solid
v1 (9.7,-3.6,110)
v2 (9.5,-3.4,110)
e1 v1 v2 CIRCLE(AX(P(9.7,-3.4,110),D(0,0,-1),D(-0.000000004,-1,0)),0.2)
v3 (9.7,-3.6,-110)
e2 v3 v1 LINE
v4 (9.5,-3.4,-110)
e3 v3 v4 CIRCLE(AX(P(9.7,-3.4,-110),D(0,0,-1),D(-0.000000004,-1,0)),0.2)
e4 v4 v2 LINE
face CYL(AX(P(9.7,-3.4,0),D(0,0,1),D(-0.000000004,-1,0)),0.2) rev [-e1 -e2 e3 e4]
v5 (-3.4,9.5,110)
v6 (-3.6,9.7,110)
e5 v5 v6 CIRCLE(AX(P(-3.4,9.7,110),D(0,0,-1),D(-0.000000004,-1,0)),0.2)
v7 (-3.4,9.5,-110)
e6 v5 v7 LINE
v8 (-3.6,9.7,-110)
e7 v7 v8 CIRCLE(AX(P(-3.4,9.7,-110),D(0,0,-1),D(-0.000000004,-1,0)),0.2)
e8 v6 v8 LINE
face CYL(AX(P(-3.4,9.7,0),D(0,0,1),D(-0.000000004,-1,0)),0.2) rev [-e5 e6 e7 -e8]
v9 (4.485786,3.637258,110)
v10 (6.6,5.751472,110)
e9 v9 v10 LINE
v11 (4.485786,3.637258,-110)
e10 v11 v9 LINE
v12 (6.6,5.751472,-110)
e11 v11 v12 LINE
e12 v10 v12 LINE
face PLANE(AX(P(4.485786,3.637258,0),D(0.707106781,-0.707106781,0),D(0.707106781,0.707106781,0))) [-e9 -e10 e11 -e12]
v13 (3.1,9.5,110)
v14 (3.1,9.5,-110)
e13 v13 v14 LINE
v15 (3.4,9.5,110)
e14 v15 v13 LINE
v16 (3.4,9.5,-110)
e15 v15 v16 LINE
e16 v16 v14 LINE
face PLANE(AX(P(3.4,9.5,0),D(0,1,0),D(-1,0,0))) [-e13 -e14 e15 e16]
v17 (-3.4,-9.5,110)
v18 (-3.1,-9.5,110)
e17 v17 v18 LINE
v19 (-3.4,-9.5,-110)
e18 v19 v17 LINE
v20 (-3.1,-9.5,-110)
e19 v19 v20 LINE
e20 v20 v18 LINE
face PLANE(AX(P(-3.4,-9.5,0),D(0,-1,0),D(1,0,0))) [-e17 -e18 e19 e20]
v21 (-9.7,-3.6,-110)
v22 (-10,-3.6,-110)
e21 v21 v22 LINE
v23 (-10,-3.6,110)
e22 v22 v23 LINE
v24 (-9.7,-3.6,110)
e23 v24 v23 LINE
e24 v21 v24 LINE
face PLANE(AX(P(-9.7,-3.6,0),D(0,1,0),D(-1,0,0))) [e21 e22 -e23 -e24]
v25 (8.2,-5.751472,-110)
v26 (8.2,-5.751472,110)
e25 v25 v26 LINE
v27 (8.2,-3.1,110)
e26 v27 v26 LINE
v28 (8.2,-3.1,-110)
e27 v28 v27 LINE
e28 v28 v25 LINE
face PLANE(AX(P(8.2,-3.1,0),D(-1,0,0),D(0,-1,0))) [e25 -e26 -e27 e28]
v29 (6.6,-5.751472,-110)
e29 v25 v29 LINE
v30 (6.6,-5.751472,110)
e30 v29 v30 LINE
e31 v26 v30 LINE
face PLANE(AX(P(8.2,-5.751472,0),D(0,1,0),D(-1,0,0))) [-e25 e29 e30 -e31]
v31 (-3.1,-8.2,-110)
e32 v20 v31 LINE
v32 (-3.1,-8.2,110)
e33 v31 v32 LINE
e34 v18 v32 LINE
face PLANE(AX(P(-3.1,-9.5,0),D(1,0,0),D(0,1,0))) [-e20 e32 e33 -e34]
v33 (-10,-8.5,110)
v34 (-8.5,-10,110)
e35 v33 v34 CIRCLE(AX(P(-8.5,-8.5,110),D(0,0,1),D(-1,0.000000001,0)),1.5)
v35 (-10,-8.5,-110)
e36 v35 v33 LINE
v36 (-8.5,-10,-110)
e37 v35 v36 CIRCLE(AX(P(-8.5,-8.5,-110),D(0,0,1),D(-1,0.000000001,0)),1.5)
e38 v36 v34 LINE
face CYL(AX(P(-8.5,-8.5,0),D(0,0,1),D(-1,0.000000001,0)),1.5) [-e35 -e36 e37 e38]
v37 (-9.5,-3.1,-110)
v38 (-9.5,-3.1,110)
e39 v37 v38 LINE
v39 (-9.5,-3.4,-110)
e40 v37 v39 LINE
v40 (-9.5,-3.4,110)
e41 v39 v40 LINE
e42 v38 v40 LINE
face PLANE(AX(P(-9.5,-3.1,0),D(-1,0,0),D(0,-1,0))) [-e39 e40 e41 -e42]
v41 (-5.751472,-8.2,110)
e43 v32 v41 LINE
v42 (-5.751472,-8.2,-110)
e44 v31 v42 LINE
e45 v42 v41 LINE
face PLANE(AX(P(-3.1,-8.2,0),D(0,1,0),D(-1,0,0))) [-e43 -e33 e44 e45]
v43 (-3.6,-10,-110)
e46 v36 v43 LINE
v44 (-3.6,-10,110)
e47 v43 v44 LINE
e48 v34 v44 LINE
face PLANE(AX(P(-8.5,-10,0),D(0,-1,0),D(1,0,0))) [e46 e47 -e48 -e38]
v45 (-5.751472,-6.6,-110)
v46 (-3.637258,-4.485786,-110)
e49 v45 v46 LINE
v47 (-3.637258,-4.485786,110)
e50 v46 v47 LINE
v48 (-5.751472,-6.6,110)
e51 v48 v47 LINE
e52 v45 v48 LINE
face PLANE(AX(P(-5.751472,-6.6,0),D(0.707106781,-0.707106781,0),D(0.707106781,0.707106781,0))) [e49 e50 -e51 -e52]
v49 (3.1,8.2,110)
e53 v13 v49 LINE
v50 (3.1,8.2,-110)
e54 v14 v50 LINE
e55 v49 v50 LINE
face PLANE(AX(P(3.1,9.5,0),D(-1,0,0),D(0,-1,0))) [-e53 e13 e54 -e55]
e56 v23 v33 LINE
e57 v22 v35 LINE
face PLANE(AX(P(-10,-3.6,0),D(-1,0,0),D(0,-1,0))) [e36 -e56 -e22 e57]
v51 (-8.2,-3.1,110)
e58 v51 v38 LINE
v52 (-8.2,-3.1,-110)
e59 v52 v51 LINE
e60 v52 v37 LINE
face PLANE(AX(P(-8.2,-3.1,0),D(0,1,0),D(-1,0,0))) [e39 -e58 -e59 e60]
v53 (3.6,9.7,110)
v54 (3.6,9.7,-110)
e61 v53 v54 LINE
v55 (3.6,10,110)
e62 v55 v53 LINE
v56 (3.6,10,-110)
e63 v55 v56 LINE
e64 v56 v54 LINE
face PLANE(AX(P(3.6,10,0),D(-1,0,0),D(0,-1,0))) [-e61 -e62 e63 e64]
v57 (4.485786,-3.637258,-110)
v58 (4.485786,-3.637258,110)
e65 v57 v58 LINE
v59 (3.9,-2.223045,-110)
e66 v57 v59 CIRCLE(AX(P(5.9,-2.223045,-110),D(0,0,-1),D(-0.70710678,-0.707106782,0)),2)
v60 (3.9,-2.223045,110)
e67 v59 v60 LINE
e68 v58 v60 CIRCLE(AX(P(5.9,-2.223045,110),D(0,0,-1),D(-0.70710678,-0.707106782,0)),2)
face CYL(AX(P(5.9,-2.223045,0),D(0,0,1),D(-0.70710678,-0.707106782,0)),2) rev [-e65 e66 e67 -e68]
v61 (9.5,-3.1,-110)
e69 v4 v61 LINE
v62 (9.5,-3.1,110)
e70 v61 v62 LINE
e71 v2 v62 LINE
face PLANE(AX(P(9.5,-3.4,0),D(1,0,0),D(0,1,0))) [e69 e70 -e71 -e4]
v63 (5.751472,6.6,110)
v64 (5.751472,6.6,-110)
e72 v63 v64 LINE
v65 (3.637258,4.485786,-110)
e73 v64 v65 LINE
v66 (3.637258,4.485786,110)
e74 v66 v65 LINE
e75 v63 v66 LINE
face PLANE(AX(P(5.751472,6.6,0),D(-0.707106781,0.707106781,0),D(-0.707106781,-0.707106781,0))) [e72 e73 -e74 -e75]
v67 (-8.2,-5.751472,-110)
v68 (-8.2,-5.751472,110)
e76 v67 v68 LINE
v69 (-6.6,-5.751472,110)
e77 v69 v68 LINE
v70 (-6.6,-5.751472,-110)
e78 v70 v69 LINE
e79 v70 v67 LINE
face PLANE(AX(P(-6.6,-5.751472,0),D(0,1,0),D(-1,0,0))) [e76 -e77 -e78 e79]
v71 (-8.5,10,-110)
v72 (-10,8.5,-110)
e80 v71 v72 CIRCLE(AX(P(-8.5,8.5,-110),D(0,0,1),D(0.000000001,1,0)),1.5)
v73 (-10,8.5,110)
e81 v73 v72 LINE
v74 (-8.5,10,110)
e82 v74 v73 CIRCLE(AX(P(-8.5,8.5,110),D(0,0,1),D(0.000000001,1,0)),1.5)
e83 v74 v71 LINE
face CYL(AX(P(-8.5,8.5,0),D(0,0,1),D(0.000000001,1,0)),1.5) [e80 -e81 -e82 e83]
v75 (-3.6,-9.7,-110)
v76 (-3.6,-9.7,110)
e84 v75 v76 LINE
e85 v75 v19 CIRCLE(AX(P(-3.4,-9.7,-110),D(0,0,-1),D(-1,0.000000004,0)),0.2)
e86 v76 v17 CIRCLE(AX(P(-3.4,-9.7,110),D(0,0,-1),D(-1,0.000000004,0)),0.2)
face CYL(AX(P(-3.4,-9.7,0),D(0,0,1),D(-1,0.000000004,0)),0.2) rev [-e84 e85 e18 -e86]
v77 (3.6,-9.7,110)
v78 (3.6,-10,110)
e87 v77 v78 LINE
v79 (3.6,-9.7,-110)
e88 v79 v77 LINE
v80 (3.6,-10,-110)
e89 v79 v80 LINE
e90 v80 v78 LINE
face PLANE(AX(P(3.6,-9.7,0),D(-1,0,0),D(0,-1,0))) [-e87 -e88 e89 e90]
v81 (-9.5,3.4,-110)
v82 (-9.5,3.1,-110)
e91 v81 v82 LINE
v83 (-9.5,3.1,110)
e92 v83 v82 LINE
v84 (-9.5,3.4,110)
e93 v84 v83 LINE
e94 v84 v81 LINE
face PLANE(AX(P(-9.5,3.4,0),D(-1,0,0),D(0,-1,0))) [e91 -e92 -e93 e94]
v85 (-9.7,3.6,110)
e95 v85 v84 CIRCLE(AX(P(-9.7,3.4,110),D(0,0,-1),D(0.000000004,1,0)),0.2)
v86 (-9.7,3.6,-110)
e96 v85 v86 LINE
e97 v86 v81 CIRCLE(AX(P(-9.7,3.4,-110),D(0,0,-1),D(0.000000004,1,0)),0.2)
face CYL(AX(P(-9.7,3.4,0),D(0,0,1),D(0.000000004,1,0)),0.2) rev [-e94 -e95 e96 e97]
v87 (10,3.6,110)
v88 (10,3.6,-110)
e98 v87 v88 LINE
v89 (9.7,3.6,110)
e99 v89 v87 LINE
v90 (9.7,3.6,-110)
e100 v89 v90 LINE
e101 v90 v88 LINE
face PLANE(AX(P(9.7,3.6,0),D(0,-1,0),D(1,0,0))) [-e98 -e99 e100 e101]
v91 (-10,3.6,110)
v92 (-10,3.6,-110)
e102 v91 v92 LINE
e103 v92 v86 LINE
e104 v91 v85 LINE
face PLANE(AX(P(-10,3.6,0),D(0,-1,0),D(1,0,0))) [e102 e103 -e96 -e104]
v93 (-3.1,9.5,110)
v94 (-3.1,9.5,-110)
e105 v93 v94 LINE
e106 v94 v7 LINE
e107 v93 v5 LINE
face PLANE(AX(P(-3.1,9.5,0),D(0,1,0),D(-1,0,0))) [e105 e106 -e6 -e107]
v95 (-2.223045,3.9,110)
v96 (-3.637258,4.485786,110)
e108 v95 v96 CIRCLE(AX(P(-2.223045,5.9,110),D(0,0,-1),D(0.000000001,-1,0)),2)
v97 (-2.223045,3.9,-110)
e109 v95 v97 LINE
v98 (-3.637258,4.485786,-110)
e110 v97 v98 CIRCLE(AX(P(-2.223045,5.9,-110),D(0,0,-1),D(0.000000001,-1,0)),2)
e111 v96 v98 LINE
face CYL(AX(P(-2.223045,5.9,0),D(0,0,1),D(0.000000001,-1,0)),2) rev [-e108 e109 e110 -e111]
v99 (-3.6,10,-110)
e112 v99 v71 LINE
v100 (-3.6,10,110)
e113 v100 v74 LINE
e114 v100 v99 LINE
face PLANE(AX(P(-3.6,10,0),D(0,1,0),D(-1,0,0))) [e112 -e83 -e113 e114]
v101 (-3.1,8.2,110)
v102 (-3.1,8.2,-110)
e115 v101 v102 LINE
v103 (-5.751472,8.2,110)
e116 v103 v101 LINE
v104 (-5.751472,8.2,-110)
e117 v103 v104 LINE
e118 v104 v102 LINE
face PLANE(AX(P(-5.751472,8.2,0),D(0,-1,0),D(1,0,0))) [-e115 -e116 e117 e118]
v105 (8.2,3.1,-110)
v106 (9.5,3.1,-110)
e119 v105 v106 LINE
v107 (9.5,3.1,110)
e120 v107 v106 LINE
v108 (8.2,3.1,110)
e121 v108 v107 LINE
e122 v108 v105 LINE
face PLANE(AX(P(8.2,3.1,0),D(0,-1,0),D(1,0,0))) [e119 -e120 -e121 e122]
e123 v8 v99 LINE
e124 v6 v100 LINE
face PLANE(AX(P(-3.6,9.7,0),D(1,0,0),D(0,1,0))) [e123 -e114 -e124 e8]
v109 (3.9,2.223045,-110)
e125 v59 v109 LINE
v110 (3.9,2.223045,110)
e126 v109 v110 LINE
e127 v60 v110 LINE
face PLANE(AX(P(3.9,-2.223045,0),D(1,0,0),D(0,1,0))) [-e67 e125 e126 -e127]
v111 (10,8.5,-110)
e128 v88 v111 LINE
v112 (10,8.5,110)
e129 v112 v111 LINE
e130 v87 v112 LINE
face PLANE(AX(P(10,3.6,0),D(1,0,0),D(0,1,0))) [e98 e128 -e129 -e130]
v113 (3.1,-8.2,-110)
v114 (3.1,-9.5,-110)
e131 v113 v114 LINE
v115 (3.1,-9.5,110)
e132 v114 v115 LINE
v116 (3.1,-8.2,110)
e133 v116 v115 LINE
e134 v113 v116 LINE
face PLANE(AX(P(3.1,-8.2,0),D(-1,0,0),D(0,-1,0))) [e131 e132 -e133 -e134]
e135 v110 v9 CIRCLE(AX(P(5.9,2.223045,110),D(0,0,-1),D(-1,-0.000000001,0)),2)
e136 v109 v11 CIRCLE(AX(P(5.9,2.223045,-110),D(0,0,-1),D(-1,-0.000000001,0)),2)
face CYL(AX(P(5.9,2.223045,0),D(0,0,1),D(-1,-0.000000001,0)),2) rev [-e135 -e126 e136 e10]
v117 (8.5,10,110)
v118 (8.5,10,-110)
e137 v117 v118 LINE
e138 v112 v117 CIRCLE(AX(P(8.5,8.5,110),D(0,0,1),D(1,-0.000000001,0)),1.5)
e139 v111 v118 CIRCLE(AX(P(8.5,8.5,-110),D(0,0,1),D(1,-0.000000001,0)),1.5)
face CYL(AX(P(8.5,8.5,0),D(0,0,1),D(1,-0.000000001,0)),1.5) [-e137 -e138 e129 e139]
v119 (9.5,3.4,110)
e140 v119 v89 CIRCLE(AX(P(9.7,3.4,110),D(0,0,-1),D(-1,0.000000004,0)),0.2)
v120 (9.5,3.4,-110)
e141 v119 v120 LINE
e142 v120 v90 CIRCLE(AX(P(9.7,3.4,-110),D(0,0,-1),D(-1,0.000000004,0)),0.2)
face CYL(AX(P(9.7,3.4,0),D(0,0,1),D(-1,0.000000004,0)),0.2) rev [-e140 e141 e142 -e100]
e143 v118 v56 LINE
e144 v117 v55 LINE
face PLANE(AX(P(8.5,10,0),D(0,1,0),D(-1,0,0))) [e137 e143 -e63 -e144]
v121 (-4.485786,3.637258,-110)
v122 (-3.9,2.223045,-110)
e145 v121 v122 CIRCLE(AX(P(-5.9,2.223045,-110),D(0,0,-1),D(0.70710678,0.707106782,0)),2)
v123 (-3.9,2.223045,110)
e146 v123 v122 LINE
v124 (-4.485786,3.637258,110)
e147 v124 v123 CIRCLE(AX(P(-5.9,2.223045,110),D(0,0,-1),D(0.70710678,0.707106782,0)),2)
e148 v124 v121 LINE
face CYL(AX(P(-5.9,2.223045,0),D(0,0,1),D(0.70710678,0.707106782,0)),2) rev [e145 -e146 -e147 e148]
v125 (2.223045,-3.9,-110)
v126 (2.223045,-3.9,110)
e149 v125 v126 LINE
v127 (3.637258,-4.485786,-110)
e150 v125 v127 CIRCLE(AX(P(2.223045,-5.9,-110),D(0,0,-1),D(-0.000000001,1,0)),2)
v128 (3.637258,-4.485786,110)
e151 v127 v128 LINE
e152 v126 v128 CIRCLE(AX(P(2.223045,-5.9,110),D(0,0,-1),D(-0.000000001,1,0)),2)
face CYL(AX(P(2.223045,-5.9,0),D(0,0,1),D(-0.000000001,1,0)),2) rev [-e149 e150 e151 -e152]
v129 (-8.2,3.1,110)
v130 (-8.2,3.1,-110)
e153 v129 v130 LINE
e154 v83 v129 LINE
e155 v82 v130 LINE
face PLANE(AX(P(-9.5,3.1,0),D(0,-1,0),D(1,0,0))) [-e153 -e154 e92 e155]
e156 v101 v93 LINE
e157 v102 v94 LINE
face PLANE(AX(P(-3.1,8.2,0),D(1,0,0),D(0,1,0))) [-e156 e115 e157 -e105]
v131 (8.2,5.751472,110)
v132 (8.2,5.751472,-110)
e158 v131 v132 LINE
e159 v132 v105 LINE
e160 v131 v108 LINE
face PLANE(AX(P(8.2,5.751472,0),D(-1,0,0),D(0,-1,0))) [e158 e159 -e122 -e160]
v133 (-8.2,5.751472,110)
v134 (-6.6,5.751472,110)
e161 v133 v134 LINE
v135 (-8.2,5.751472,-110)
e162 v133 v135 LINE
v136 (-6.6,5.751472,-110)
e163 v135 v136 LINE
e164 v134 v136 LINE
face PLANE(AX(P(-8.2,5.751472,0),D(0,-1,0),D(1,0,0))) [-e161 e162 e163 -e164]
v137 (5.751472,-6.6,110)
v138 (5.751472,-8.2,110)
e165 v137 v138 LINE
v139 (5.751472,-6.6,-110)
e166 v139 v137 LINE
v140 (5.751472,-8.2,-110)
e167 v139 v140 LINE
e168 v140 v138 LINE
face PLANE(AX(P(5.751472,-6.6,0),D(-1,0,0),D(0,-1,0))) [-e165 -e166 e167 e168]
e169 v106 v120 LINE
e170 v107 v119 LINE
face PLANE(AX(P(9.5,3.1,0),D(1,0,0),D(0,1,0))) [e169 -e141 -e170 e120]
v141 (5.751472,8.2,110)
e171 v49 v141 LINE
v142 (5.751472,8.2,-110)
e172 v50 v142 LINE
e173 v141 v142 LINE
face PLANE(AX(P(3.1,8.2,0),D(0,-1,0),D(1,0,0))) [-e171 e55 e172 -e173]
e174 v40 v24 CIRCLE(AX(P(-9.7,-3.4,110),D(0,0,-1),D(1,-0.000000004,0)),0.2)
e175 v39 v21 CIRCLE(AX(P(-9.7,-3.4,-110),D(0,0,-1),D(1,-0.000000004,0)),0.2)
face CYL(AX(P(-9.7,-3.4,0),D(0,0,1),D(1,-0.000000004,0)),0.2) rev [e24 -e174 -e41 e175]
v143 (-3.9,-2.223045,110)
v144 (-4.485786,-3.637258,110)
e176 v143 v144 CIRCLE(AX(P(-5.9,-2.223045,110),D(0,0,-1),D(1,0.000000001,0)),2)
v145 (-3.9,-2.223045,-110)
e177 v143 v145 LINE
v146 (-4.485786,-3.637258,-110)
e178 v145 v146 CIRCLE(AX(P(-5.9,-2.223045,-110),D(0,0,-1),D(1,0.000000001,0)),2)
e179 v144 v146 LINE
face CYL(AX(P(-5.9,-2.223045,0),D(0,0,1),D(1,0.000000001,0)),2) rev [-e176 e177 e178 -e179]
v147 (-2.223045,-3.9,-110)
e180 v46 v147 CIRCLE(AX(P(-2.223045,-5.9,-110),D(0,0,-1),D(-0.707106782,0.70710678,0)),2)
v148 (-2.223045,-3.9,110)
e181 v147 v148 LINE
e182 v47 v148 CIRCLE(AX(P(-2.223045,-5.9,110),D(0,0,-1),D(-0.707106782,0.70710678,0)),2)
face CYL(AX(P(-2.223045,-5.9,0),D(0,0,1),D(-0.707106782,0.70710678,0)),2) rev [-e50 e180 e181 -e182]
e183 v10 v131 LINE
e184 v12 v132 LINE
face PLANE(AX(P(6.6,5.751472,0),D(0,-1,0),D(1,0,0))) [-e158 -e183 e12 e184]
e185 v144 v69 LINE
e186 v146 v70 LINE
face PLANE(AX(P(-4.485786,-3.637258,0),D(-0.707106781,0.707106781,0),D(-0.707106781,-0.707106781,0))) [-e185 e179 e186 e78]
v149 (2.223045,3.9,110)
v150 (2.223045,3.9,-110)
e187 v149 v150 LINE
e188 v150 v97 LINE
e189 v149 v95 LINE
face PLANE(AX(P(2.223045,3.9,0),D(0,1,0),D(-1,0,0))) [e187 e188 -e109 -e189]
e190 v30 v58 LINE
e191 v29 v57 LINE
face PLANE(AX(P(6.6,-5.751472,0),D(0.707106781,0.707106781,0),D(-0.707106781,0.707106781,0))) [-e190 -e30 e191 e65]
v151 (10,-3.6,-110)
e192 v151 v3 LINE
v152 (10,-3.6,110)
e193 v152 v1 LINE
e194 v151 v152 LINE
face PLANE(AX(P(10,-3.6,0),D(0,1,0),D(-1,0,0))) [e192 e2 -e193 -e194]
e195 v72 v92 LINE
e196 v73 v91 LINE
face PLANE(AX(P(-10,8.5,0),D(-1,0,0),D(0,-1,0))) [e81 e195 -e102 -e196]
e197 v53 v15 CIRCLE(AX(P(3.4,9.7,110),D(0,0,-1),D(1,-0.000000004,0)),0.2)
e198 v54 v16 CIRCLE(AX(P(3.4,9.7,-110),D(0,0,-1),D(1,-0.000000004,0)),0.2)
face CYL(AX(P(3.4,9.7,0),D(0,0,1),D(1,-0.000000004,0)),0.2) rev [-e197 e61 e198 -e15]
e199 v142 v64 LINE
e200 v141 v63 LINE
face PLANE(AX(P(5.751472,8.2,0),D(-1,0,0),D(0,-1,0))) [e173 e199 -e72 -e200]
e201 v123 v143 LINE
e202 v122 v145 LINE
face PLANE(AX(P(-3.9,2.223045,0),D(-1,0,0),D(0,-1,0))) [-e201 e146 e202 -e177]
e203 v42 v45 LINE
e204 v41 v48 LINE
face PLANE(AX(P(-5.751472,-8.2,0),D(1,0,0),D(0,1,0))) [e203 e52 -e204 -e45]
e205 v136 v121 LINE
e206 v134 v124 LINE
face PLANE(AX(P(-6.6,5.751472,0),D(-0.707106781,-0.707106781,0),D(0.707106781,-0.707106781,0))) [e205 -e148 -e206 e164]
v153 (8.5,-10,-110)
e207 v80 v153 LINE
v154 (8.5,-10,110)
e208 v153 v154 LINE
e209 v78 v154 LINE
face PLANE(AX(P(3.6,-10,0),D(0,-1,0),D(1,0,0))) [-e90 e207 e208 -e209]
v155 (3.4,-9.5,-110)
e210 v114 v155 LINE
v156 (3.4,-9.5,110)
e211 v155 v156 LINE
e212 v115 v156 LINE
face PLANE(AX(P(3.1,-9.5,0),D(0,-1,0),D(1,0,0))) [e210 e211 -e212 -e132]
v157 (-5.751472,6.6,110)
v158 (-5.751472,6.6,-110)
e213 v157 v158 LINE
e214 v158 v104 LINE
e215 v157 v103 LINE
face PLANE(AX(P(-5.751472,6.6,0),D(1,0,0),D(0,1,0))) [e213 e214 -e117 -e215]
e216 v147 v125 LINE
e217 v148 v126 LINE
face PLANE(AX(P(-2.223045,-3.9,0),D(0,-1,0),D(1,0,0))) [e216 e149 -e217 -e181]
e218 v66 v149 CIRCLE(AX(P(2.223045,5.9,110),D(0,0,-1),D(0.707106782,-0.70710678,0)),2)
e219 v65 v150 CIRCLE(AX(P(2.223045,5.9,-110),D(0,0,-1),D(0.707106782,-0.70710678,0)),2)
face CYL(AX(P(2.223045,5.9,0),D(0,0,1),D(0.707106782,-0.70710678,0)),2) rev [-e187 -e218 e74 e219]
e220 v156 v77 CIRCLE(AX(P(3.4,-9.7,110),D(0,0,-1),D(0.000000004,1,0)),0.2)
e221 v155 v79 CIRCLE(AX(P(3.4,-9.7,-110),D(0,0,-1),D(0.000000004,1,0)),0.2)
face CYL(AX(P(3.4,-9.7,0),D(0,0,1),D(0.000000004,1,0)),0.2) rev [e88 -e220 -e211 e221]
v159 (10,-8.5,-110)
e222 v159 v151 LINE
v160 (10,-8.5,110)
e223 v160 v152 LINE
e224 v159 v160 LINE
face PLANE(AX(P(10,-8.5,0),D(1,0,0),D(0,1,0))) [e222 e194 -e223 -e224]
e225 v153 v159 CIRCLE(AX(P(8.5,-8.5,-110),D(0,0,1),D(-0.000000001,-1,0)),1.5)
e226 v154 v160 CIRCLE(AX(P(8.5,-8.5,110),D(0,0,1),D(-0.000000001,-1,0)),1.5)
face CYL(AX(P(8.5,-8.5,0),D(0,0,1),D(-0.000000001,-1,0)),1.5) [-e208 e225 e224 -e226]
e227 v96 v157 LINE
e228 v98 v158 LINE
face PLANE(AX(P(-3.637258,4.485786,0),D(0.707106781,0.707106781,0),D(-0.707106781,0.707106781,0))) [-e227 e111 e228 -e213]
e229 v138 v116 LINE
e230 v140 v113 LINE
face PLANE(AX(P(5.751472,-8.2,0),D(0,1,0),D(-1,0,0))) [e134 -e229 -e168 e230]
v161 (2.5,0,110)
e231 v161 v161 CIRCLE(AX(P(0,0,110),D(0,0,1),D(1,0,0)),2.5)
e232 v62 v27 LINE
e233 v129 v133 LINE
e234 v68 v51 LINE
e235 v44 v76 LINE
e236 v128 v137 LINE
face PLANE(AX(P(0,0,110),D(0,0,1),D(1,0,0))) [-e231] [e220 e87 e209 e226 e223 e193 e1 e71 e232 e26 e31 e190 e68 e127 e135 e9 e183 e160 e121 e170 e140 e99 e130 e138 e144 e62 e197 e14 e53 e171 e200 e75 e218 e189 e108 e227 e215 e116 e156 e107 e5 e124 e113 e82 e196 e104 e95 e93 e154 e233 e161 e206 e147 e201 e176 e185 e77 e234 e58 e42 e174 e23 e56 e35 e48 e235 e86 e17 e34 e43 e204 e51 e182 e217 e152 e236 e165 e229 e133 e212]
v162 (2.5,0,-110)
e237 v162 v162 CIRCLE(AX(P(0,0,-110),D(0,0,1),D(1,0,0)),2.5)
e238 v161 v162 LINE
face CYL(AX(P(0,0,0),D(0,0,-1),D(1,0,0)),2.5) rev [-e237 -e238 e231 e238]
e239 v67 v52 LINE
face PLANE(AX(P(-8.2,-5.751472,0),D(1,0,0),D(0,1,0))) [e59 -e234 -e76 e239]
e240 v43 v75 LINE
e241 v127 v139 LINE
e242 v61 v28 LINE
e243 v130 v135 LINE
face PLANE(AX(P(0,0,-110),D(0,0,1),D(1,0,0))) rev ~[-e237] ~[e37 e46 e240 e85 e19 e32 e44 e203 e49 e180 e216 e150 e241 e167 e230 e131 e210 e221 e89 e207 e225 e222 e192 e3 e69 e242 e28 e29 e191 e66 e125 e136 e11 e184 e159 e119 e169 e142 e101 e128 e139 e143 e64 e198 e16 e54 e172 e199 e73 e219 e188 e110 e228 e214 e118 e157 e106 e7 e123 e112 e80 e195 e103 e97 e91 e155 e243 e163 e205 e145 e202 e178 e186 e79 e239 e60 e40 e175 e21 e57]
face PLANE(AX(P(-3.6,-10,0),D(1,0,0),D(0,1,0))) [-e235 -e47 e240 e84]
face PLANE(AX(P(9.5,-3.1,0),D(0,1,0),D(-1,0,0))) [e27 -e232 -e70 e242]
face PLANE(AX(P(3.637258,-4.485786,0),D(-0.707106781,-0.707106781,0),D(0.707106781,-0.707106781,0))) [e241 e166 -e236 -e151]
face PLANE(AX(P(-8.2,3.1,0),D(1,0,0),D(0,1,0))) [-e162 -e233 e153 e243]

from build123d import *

# Parameters (mm, degrees)
CROQUIS1_R              = 2.5
SALIENTE_EXTRUIR1_DEPTH = 110


with BuildPart() as part:
    # Croquis1 → Saliente-Extruir1 (new, symmetric)
    with BuildSketch(Plane.XY):
        with BuildLine():
            Line((-4.485786438, -3.6372583), (-6.6, -5.751471863))
            Line((-6.6, -5.751471863), (-8.2, -5.751471863))
            Line((-8.2, -5.751471863), (-8.2, -3.1))
            Line((-8.2, -3.1), (-9.5, -3.1))
            Line((-9.5, -3.1), (-9.5, -3.4))
            ThreePointArc((-9.5, -3.4), (-9.558578644, -3.541421356), (-9.7, -3.6))
            Line((-9.7, -3.6), (-10, -3.6))
            Line((-10, -3.6), (-10, -8.5))
            ThreePointArc((-10, -8.5), (-9.560660172, -9.560660172), (-8.5, -10))
            Line((-8.5, -10), (-3.6, -10))
            Line((-3.6, -10), (-3.6, -9.7))
            ThreePointArc((-3.6, -9.7), (-3.541421356, -9.558578644), (-3.4, -9.5))
            Line((-3.4, -9.5), (-3.1, -9.5))
            Line((-3.1, -9.5), (-3.1, -8.2))
            Line((-3.1, -8.2), (-5.751471863, -8.2))
            Line((-5.751471863, -8.2), (-5.751471863, -6.6))
            Line((-5.751471863, -6.6), (-3.6372583, -4.485786438))
            ThreePointArc((-3.6372583, -4.485786438), (-2.988411603, -4.052240935), (-2.223044738, -3.9))
            Line((-2.223044738, -3.9), (2.223044738, -3.9))
            ThreePointArc((2.223044738, -3.9), (2.988411603, -4.052240935), (3.6372583, -4.485786438))
            Line((3.6372583, -4.485786438), (5.751471863, -6.6))
            Line((5.751471863, -6.6), (5.751471863, -8.2))
            Line((5.751471863, -8.2), (3.1, -8.2))
            Line((3.1, -8.2), (3.1, -9.5))
            Line((3.1, -9.5), (3.4, -9.5))
            ThreePointArc((3.4, -9.5), (3.541421356, -9.558578644), (3.6, -9.7))
            Line((3.6, -9.7), (3.6, -10))
            Line((3.6, -10), (8.5, -10))
            ThreePointArc((8.5, -10), (9.560660172, -9.560660172), (10, -8.5))
            Line((10, -8.5), (10, -3.6))
            Line((10, -3.6), (9.7, -3.6))
            ThreePointArc((9.7, -3.6), (9.558578644, -3.541421356), (9.5, -3.4))
            Line((9.5, -3.4), (9.5, -3.1))
            Line((9.5, -3.1), (8.2, -3.1))
            Line((8.2, -3.1), (8.2, -5.751471863))
            Line((8.2, -5.751471863), (6.6, -5.751471863))
            Line((6.6, -5.751471863), (4.485786438, -3.6372583))
            ThreePointArc((4.485786438, -3.6372583), (4.052240935, -2.988411603), (3.9, -2.223044738))
            Line((3.9, -2.223044738), (3.9, 2.223044738))
            ThreePointArc((3.9, 2.223044738), (4.052240935, 2.988411603), (4.485786438, 3.6372583))
            Line((4.485786438, 3.6372583), (6.6, 5.751471863))
            Line((6.6, 5.751471863), (8.2, 5.751471863))
            Line((8.2, 5.751471863), (8.2, 3.1))
            Line((8.2, 3.1), (9.5, 3.1))
            Line((9.5, 3.1), (9.5, 3.4))
            ThreePointArc((9.5, 3.4), (9.558578644, 3.541421356), (9.7, 3.6))
            Line((9.7, 3.6), (10, 3.6))
            Line((10, 3.6), (10, 8.5))
            ThreePointArc((10, 8.5), (9.560660172, 9.560660172), (8.5, 10))
            Line((8.5, 10), (3.6, 10))
            Line((3.6, 10), (3.6, 9.7))
            ThreePointArc((3.6, 9.7), (3.541421356, 9.558578644), (3.4, 9.5))
            Line((3.4, 9.5), (3.1, 9.5))
            Line((3.1, 9.5), (3.1, 8.2))
            Line((3.1, 8.2), (5.751471863, 8.2))
            Line((5.751471863, 8.2), (5.751471863, 6.6))
            Line((5.751471863, 6.6), (3.6372583, 4.485786438))
            ThreePointArc((3.6372583, 4.485786438), (2.988411603, 4.052240935), (2.223044738, 3.9))
            Line((2.223044738, 3.9), (-2.223044738, 3.9))
            ThreePointArc((-2.223044738, 3.9), (-2.988411603, 4.052240935), (-3.6372583, 4.485786438))
            Line((-3.6372583, 4.485786438), (-5.751471863, 6.6))
            Line((-5.751471863, 6.6), (-5.751471863, 8.2))
            Line((-5.751471863, 8.2), (-3.1, 8.2))
            Line((-3.1, 8.2), (-3.1, 9.5))
            Line((-3.1, 9.5), (-3.4, 9.5))
            ThreePointArc((-3.4, 9.5), (-3.541421356, 9.558578644), (-3.6, 9.7))
            Line((-3.6, 9.7), (-3.6, 10))
            Line((-3.6, 10), (-8.5, 10))
            ThreePointArc((-8.5, 10), (-9.560660172, 9.560660172), (-10, 8.5))
            Line((-10, 8.5), (-10, 3.6))
            Line((-10, 3.6), (-9.7, 3.6))
            ThreePointArc((-9.7, 3.6), (-9.558578644, 3.541421356), (-9.5, 3.4))
            Line((-9.5, 3.4), (-9.5, 3.1))
            Line((-9.5, 3.1), (-8.2, 3.1))
            Line((-8.2, 3.1), (-8.2, 5.751471863))
            Line((-8.2, 5.751471863), (-6.6, 5.751471863))
            Line((-6.6, 5.751471863), (-4.485786438, 3.6372583))
            ThreePointArc((-4.485786438, 3.6372583), (-4.052240935, 2.988411603), (-3.9, 2.223044738))
            Line((-3.9, 2.223044738), (-3.9, -2.223044738))
            ThreePointArc((-3.9, -2.223044738), (-4.052240935, -2.988411603), (-4.485786438, -3.6372583))
        make_face()
        Circle(CROQUIS1_R, mode=Mode.SUBTRACT)
    extrude(amount=SALIENTE_EXTRUIR1_DEPTH, both=True)


solid = part.part
